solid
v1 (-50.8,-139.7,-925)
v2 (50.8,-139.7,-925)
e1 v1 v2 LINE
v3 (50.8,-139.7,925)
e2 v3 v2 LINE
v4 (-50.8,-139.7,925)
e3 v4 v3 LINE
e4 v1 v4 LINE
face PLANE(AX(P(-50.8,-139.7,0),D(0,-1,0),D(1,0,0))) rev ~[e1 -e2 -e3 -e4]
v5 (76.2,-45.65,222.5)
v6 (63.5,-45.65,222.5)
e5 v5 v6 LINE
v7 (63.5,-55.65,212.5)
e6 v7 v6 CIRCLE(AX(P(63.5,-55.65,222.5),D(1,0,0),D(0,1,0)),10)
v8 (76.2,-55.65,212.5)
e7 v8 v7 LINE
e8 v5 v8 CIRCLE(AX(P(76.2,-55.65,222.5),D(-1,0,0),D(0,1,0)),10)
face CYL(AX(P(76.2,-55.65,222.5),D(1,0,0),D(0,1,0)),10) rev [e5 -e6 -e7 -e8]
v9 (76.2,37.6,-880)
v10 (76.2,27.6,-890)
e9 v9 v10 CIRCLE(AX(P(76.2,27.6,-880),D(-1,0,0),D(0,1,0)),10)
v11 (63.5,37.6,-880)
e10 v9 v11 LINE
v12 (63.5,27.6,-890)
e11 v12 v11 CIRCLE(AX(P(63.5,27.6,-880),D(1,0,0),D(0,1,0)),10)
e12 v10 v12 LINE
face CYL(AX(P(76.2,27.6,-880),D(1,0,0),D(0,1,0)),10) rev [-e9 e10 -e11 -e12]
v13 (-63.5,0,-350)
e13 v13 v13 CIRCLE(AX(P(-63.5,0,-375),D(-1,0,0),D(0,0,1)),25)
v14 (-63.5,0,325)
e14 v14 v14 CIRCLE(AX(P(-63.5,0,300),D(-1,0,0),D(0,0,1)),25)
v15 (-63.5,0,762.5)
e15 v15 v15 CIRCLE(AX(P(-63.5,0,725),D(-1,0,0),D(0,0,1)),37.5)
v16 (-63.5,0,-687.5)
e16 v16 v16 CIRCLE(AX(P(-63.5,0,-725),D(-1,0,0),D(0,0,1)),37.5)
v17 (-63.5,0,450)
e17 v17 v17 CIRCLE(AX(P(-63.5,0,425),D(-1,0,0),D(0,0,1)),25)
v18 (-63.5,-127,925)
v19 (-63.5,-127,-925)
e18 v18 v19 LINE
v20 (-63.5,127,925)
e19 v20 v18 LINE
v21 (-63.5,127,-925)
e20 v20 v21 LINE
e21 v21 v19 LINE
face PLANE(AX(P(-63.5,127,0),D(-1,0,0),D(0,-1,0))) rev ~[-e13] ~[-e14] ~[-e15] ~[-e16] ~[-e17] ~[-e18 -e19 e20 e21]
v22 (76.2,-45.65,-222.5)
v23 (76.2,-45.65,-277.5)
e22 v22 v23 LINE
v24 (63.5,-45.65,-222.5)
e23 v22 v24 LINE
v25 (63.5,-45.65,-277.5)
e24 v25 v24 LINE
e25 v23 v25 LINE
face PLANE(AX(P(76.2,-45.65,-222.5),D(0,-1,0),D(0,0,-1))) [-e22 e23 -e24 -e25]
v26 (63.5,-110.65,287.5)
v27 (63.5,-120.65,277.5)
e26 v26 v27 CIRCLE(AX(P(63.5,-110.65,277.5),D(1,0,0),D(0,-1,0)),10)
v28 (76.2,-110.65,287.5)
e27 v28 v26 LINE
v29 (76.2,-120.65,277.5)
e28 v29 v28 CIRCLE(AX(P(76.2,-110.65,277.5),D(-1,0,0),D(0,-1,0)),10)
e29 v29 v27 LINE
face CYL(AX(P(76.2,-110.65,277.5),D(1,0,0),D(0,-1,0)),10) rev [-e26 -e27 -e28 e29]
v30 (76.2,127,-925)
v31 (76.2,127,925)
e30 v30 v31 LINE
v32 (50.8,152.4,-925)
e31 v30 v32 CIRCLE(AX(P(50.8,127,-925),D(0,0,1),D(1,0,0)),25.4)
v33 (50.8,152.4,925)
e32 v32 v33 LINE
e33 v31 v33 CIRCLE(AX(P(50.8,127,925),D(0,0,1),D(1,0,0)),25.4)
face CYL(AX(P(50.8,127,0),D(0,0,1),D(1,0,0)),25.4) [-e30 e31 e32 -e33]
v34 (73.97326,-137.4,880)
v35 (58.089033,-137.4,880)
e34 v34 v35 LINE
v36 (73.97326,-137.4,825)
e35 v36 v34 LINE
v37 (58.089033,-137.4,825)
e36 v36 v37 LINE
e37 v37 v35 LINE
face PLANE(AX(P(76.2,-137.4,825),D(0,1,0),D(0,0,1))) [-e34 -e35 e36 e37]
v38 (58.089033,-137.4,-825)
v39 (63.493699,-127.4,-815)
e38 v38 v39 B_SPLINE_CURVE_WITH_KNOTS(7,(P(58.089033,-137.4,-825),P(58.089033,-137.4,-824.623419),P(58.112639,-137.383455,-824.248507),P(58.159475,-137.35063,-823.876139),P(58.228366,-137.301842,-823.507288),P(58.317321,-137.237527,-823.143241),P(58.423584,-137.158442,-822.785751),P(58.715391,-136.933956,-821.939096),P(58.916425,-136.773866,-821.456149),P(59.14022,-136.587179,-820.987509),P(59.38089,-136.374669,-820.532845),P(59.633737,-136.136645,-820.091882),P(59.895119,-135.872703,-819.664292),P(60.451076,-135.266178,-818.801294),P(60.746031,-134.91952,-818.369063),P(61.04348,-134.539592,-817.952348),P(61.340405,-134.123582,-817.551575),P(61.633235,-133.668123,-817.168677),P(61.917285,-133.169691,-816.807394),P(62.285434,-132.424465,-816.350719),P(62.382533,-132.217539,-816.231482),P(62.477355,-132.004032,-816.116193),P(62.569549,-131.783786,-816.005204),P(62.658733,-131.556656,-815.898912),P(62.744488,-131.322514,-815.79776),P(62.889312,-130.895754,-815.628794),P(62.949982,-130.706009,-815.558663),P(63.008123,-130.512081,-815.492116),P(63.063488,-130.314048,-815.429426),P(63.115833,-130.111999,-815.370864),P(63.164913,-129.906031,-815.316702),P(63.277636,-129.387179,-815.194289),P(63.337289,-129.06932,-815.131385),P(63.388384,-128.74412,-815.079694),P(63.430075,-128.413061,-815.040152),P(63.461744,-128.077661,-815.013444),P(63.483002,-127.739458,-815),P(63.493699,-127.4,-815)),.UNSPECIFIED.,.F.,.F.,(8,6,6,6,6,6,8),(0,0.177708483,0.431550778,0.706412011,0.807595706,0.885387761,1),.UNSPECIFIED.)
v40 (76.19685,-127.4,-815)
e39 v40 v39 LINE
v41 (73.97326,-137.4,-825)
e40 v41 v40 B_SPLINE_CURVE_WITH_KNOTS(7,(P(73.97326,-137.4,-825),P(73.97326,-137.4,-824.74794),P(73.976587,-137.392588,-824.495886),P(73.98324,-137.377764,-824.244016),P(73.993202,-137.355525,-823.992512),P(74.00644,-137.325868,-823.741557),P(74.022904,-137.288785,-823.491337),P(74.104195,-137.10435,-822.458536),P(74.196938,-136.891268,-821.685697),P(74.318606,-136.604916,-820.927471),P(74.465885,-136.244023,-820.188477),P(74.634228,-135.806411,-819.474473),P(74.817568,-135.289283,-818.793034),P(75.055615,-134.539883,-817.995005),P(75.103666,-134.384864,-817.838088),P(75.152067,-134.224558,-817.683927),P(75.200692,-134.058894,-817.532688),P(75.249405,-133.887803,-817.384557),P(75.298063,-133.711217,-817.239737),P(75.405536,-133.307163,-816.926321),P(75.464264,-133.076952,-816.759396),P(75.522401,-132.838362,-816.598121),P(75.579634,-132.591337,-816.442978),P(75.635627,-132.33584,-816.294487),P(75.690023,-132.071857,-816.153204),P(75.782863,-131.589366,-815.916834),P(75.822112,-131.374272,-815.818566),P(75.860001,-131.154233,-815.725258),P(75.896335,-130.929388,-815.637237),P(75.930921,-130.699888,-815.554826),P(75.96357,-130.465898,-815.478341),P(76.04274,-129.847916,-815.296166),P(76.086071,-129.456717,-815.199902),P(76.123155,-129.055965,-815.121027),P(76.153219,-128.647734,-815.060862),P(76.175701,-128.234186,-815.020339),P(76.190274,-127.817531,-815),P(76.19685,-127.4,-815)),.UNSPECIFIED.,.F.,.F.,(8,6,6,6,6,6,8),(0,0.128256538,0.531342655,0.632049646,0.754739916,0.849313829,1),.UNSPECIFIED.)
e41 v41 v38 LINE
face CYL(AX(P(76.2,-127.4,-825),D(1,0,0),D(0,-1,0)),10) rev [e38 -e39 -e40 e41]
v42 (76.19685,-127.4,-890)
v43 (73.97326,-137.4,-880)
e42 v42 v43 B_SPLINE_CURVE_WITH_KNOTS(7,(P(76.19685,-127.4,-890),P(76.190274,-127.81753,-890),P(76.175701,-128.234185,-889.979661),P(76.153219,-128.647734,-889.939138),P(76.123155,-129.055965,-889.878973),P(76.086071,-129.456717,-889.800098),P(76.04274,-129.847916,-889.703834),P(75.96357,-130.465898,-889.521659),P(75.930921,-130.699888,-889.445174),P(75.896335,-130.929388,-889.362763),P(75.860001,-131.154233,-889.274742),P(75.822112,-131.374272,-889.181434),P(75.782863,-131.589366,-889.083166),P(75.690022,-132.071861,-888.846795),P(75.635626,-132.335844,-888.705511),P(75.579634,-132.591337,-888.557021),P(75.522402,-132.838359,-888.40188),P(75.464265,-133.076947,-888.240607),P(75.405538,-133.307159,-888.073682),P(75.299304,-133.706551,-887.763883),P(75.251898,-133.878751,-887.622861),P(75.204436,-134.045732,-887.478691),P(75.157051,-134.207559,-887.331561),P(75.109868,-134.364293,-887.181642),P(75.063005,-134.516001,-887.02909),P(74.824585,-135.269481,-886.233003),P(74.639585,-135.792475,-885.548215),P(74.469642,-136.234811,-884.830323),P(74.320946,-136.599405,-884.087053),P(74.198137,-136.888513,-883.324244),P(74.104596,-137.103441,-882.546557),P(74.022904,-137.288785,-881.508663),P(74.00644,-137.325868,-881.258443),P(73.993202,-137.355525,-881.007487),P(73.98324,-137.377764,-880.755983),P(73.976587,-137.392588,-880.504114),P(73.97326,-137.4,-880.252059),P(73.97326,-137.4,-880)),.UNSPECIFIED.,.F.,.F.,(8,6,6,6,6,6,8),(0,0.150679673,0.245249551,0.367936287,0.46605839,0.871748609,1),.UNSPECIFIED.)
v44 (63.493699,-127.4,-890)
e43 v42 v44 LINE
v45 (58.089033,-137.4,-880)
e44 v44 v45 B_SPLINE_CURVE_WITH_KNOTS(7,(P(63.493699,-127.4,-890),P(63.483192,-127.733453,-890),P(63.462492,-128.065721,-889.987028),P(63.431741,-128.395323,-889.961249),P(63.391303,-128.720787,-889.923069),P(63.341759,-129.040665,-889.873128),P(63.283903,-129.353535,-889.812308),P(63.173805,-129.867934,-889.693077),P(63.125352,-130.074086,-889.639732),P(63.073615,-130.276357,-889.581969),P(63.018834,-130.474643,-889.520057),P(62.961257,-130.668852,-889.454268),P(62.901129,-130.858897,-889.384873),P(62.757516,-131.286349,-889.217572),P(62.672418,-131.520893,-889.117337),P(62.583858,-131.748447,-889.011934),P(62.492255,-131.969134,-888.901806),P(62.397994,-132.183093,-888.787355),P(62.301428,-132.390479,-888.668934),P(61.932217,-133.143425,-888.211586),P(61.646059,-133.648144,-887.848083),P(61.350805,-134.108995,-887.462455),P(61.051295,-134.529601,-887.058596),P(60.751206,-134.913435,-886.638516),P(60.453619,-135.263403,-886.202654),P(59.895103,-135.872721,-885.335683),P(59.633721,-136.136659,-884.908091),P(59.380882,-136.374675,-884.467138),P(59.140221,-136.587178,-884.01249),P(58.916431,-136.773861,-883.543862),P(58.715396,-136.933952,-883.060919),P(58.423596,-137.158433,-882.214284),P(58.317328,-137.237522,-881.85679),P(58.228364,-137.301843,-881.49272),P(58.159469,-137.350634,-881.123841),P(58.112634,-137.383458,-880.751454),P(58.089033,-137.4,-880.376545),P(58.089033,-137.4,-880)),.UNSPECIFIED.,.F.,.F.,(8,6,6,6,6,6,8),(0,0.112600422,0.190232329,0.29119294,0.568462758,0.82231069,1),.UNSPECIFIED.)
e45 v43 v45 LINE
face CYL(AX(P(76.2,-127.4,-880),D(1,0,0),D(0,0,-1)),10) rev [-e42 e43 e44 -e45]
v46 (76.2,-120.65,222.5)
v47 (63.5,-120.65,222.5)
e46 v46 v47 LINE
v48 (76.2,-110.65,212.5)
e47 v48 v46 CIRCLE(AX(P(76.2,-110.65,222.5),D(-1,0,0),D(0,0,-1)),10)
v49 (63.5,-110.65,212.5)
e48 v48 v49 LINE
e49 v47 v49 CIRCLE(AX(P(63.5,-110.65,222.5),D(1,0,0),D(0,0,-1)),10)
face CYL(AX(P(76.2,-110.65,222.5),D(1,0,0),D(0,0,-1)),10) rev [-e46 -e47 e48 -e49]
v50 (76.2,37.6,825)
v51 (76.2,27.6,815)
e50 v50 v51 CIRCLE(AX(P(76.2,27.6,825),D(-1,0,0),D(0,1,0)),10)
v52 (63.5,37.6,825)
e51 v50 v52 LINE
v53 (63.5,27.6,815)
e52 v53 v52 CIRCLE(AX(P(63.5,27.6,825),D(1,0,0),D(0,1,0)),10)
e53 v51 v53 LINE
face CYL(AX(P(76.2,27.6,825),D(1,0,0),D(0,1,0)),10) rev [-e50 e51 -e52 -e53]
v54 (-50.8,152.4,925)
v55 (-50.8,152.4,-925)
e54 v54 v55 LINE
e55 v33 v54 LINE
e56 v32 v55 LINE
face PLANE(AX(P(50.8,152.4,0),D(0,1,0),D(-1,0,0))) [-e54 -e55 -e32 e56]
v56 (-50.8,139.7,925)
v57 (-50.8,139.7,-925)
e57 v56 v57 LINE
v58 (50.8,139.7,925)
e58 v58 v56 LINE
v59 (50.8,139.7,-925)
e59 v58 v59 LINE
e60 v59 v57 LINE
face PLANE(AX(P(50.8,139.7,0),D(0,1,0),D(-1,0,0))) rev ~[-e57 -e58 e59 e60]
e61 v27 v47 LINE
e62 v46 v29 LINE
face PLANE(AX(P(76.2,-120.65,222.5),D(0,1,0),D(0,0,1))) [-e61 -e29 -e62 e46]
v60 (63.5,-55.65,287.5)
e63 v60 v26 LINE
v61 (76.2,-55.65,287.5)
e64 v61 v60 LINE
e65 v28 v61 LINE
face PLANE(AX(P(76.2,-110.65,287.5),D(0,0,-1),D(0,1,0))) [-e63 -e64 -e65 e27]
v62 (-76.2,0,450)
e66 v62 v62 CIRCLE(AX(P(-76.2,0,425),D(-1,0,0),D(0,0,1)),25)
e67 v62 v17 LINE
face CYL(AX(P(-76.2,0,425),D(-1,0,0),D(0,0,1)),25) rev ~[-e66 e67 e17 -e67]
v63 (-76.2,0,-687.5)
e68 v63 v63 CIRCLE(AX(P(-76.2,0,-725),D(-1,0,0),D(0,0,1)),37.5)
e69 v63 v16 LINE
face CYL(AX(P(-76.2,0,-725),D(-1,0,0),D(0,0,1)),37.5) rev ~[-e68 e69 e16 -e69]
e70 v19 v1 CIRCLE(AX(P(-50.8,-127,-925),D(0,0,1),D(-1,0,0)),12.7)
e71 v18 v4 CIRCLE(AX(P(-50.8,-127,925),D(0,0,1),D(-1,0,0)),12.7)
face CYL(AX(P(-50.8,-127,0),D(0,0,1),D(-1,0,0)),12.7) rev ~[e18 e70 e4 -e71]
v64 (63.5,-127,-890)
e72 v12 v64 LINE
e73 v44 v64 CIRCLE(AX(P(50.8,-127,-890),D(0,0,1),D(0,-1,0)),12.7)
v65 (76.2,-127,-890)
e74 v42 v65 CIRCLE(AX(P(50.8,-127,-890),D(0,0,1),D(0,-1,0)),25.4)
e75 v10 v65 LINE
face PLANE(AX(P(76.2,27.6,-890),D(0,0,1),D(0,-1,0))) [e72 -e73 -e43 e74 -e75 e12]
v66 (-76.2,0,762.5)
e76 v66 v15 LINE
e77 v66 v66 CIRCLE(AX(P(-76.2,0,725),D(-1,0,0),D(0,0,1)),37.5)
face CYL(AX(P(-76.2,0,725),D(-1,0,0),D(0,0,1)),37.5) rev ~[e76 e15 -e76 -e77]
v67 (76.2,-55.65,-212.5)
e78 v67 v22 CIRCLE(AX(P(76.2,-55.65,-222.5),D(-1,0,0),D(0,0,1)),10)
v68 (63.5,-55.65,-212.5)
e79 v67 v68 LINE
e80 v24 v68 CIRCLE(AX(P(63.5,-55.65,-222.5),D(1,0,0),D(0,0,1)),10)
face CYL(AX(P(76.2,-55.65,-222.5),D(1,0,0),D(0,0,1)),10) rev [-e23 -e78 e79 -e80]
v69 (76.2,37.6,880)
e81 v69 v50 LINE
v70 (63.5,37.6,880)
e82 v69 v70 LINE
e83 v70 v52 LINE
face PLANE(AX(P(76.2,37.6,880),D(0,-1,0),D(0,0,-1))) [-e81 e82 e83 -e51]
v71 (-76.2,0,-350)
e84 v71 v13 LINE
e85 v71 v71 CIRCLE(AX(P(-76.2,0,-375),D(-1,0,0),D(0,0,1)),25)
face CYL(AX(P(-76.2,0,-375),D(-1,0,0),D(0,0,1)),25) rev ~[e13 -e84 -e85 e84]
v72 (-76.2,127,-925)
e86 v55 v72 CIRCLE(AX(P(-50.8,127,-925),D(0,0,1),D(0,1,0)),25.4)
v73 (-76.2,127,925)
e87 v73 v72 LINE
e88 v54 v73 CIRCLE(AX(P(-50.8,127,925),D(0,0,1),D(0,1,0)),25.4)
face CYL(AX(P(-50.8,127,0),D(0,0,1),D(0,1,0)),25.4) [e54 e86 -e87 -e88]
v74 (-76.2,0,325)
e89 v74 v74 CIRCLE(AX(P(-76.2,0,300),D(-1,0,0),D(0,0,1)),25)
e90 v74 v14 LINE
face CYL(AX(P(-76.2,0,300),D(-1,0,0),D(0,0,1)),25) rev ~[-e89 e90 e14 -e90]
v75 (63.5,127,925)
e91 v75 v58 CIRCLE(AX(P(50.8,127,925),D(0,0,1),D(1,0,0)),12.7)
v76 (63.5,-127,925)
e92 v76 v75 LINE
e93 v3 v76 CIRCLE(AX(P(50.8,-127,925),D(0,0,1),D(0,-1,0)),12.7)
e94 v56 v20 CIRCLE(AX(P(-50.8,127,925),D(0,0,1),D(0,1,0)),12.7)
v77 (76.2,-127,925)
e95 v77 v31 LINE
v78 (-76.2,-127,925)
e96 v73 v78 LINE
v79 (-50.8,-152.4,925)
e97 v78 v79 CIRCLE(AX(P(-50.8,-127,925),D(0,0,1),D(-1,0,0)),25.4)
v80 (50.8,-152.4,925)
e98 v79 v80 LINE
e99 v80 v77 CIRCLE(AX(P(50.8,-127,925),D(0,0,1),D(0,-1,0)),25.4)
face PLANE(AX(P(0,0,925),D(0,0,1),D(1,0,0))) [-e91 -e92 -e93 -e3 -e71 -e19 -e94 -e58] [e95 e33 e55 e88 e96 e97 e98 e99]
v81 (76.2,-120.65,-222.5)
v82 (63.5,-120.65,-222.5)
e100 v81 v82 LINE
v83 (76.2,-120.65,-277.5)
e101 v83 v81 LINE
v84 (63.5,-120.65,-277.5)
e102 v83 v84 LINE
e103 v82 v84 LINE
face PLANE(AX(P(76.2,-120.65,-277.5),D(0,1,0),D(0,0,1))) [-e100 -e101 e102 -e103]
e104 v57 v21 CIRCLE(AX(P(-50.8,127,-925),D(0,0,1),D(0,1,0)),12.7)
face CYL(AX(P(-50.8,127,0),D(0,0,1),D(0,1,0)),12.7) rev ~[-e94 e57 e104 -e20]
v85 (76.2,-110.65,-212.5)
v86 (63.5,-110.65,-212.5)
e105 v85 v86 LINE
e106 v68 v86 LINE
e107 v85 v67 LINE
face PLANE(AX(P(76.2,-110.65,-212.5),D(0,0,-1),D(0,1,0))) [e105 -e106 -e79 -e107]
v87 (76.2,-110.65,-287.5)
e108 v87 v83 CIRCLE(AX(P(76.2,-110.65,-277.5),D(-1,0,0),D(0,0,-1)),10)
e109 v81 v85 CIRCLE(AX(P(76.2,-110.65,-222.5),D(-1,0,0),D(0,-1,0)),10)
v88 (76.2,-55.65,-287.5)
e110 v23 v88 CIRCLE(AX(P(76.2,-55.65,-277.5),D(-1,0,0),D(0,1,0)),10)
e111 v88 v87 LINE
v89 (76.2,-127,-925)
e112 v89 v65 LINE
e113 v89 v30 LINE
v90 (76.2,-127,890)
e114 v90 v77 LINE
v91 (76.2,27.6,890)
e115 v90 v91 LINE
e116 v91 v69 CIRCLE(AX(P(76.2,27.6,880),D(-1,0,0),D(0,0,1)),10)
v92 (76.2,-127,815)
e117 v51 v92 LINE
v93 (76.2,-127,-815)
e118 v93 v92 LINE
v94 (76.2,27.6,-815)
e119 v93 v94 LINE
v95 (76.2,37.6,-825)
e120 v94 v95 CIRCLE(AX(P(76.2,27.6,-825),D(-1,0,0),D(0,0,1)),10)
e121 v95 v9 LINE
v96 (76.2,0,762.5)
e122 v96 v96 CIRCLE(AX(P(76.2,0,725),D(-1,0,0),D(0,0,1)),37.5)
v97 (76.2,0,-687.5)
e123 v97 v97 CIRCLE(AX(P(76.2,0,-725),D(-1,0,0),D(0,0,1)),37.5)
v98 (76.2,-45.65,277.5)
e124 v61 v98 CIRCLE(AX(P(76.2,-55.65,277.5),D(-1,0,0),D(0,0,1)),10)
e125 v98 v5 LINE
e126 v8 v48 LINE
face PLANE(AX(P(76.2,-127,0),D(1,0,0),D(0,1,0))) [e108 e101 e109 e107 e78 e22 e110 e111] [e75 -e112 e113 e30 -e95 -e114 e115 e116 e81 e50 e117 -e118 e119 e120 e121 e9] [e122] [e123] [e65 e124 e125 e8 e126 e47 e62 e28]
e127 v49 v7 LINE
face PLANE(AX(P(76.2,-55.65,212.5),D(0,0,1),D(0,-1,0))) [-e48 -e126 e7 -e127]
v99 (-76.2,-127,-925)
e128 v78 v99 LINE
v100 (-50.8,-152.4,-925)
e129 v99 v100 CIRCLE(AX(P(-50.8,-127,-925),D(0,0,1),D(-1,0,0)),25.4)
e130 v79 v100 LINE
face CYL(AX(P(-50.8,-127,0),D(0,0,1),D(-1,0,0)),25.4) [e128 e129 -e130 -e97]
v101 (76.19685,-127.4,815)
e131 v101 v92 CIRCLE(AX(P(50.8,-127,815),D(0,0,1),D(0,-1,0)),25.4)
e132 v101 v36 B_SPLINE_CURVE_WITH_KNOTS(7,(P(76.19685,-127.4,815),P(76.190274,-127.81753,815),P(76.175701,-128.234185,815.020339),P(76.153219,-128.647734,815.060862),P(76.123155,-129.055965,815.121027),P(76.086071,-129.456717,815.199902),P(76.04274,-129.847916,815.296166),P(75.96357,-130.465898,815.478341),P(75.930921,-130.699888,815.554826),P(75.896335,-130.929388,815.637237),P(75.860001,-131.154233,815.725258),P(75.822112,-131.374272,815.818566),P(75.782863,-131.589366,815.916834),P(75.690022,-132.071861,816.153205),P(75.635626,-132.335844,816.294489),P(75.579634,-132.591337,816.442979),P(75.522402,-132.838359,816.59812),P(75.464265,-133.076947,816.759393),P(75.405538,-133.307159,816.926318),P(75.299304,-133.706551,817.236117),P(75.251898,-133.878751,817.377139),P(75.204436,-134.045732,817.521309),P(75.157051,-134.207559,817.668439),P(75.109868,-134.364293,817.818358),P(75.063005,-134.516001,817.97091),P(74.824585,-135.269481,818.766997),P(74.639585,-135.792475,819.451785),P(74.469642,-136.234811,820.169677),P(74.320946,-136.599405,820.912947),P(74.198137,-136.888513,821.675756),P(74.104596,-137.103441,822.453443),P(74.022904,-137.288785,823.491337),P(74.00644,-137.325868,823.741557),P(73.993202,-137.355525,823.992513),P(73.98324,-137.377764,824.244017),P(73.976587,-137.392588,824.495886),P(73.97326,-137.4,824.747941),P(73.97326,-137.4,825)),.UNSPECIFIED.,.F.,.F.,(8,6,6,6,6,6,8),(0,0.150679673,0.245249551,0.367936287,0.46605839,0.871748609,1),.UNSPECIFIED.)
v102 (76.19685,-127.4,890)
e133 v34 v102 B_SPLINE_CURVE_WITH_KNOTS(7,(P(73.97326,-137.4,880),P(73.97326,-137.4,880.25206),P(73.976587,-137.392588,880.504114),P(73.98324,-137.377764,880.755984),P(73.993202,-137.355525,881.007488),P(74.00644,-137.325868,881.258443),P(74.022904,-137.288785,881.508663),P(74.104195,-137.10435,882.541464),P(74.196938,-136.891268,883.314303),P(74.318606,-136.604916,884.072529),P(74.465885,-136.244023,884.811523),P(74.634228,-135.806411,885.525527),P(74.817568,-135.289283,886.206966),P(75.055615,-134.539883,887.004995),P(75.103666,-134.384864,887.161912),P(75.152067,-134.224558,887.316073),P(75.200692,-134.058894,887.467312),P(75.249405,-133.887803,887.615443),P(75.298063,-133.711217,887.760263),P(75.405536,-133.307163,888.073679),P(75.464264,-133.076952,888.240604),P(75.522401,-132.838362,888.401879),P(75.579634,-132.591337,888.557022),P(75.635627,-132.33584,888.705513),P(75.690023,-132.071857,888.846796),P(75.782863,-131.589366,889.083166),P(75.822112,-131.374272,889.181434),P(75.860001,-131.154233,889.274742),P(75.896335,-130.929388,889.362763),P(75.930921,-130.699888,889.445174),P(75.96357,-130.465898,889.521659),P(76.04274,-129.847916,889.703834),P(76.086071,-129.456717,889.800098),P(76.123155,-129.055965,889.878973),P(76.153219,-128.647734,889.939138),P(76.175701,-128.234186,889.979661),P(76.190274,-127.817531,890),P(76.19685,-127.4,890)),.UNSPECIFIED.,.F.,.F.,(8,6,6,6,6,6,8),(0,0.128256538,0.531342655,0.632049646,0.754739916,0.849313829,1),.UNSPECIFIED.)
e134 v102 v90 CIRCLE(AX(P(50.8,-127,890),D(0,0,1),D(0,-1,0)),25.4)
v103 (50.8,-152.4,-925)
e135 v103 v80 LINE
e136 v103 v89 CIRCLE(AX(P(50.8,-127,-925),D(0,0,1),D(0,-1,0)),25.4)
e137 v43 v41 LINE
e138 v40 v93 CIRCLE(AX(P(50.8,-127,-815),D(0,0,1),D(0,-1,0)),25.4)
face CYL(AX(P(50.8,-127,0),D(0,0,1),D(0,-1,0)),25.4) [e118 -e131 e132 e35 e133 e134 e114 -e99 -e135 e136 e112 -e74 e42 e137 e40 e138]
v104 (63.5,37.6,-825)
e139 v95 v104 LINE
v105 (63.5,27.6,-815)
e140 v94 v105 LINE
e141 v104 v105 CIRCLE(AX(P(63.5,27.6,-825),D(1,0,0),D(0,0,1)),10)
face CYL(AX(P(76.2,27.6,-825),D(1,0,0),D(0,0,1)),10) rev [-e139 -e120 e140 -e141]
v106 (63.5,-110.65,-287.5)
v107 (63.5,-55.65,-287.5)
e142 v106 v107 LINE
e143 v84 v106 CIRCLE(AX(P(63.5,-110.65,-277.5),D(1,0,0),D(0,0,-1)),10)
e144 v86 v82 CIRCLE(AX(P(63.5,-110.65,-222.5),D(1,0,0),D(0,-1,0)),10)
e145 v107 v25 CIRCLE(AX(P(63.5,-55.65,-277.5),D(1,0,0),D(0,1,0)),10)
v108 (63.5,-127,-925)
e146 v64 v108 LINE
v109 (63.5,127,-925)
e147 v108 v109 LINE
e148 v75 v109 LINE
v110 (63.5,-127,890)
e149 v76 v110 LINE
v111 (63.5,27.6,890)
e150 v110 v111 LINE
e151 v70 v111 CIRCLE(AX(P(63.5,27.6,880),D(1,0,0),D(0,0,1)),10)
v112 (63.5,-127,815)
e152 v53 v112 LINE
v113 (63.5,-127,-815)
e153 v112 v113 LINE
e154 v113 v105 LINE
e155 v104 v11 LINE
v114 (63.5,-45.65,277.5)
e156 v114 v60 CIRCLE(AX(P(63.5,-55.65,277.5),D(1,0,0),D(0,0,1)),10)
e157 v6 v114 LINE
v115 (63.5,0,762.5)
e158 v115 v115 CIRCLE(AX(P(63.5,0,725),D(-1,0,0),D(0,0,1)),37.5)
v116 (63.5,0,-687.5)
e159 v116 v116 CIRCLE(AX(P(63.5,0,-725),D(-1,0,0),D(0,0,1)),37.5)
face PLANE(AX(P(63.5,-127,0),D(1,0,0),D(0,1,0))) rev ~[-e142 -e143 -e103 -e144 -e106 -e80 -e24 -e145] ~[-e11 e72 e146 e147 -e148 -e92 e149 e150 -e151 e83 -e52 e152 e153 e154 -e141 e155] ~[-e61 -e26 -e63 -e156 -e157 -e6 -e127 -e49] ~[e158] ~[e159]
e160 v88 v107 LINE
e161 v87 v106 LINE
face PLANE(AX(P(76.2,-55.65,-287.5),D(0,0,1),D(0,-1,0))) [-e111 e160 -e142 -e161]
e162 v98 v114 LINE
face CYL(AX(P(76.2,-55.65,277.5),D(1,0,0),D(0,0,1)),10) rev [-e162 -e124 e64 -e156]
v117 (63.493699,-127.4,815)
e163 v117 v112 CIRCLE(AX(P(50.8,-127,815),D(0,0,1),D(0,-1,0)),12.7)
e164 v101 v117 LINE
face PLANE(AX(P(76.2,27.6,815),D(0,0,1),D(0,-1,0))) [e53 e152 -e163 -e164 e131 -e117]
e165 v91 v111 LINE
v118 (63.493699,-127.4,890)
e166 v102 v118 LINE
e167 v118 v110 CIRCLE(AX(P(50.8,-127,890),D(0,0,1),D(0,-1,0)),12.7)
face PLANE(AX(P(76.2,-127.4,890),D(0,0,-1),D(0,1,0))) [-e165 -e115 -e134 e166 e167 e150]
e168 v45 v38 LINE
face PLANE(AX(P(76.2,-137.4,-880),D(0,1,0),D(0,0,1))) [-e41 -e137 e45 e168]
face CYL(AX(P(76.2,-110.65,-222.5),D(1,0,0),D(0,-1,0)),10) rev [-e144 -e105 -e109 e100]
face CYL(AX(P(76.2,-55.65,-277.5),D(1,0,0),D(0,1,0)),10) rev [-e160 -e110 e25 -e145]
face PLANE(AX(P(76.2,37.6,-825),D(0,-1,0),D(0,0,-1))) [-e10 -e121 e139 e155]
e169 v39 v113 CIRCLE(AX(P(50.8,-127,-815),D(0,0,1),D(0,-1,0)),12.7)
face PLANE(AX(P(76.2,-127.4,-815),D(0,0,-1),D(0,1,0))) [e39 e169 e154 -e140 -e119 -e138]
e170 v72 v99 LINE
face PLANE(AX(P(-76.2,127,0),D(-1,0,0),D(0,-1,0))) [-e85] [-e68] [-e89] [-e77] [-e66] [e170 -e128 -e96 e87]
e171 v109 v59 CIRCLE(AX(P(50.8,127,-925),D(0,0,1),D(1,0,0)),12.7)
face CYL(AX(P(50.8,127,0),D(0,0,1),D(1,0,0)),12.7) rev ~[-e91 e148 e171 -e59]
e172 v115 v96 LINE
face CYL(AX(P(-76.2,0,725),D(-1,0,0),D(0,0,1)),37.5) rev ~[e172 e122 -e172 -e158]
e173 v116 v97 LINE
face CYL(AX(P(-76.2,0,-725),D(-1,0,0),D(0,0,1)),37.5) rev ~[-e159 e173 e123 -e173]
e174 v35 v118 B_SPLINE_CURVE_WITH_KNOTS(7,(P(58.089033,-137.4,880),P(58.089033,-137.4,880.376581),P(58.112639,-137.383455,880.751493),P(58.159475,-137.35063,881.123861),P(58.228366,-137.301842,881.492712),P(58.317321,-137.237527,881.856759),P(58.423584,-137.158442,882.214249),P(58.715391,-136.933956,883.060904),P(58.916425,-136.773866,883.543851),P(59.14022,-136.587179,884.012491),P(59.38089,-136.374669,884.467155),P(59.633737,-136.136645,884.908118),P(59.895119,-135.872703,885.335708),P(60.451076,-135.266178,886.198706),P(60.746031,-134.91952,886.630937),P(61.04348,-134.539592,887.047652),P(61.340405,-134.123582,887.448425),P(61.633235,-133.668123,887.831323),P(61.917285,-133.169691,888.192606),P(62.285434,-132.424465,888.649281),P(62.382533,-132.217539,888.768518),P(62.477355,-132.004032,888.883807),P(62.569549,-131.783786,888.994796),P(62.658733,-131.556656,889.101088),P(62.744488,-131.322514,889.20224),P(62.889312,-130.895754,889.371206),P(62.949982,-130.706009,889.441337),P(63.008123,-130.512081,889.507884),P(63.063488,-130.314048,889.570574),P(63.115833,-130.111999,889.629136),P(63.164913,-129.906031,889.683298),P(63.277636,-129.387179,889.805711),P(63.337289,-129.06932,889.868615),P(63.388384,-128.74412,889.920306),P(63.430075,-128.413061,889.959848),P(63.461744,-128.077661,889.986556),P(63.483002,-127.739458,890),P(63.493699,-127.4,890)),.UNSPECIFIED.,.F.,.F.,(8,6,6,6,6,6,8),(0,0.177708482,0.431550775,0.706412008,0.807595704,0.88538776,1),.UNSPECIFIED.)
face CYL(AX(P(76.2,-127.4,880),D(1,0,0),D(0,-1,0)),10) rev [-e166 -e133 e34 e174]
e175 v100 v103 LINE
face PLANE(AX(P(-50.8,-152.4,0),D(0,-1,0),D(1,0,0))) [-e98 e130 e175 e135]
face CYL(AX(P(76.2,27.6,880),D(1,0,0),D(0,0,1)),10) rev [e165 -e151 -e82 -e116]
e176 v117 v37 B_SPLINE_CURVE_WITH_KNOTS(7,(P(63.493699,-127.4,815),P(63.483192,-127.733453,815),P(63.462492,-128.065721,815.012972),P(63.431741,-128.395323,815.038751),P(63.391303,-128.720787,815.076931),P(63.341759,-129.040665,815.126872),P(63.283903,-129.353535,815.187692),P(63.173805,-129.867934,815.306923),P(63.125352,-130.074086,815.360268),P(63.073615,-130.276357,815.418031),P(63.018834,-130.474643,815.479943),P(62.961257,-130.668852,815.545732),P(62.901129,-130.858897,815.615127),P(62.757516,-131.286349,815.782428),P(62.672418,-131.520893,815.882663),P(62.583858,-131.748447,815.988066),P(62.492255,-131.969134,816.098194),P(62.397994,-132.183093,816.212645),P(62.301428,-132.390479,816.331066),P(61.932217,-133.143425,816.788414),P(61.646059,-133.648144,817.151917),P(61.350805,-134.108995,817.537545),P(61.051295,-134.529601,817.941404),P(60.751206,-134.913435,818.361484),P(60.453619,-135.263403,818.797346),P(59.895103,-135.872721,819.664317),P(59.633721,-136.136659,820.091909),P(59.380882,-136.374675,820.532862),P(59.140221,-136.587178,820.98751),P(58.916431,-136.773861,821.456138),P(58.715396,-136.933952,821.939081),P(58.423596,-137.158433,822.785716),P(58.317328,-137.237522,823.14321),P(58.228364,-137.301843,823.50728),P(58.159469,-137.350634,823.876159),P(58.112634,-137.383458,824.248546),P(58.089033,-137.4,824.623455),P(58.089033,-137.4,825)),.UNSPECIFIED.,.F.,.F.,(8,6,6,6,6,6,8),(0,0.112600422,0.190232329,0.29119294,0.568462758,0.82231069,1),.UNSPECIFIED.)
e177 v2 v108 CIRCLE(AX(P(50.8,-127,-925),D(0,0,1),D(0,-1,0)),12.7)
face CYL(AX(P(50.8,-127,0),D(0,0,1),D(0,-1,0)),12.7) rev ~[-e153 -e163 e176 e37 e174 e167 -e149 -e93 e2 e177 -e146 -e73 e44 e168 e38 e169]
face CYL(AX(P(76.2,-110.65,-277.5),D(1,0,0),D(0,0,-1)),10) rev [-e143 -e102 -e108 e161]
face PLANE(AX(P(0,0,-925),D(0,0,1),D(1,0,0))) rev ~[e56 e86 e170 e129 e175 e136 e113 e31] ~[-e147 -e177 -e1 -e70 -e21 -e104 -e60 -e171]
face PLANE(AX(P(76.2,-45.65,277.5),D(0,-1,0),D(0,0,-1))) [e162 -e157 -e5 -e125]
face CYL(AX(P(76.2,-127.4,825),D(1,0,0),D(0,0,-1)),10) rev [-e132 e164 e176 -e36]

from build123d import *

# Parameters (mm, degrees)
BOSS_EXTRUDE1_DEPTH                       = 925
CUT_EXTRUDE1_DEPTH                        = 30
FOR_MACH_SHOP_CONFIRM_W_PROGRAMMING_REACH = 951.777
SKETCH5_R                                 = 37.5
CUT_EXTRUDE3_DEPTH                        = 950.777089767
CUT_EXTRUDE4_REACH                        = 951.777
SKETCH6_R                                 = 25


with BuildPart() as part:
    # Sketch1 → Boss-Extrude1 (new, symmetric)
    with BuildSketch(Plane.XY):
        with BuildLine():
            Line((-50.8, -152.4), (50.8, -152.4))
            ThreePointArc((50.8, -152.4), (68.760512242, -144.960512242), (76.2, -127))
            Line((76.2, -127), (76.2, 127))
            ThreePointArc((76.2, 127), (68.760512242, 144.960512242), (50.8, 152.4))
            Line((50.8, 152.4), (-50.8, 152.4))
            ThreePointArc((-50.8, 152.4), (-68.760512242, 144.960512242), (-76.2, 127))
            Line((-76.2, 127), (-76.2, -127))
            ThreePointArc((-76.2, -127), (-68.760512242, -144.960512242), (-50.8, -152.4))
        make_face()
        with BuildLine():
            Line((-50.8, -139.7), (50.8, -139.7))
            ThreePointArc((50.8, -139.7), (59.780256121, -135.980256121), (63.5, -127))
            Line((63.5, -127), (63.5, 127))
            ThreePointArc((63.5, 127), (59.780256121, 135.980256121), (50.8, 139.7))
            Line((50.8, 139.7), (-50.8, 139.7))
            ThreePointArc((-50.8, 139.7), (-59.780256121, 135.980256121), (-63.5, 127))
            Line((-63.5, 127), (-63.5, -127))
            ThreePointArc((-63.5, -127), (-59.780256121, -135.980256121), (-50.8, -139.7))
        make_face(mode=Mode.SUBTRACT)
    extrude(amount=BOSS_EXTRUDE1_DEPTH, both=True)

    # Sketch2 → Cut-Extrude1 (cut)
    with BuildSketch(Plane(origin=(76.2, 0, 0), x_dir=(0, 0, -1), z_dir=(1, 0, 0))):
        with BuildLine():
            Line((-880, 37.6), (-825, 37.6))
            ThreePointArc((-825, 37.6), (-817.928932188, 34.671067812), (-815, 27.6))
            Line((-815, 27.6), (-815, -127.4))
            ThreePointArc((-815, -127.4), (-817.928932188, -134.471067812), (-825, -137.4))
            Line((-825, -137.4), (-880, -137.4))
            ThreePointArc((-880, -137.4), (-887.071067812, -134.471067812), (-890, -127.4))
            Line((-890, -127.4), (-890, 27.6))
            ThreePointArc((-890, 27.6), (-887.071067812, 34.671067812), (-880, 37.6))
        make_face()
        with BuildLine():
            Line((825, 37.6), (880, 37.6))
            ThreePointArc((880, 37.6), (887.071067812, 34.671067812), (890, 27.6))
            Line((890, 27.6), (890, -127.4))
            ThreePointArc((890, -127.4), (887.071067812, -134.471067812), (880, -137.4))
            Line((880, -137.4), (825, -137.4))
            ThreePointArc((825, -137.4), (817.928932188, -134.471067812), (815, -127.4))
            Line((815, -127.4), (815, 27.6))
            ThreePointArc((815, 27.6), (817.928932188, 34.671067812), (825, 37.6))
        make_face()
    extrude(amount=-CUT_EXTRUDE1_DEPTH, mode=Mode.SUBTRACT)

    # Sketch3 → for mach shop confirm w/ programming (cut, up to next)
    with BuildSketch(Plane(origin=(76.2, 0, 0), x_dir=(0, 0, -1), z_dir=(1, 0, 0)), mode=Mode.PRIVATE) as for_mach_shop_confirm_w_programming_sk1:
        with BuildLine():
            Line((-277.5, -45.65), (-222.5, -45.65))
            ThreePointArc((-222.5, -45.65), (-215.428932188, -48.578932188), (-212.5, -55.65))
            Line((-212.5, -55.65), (-212.5, -110.65))
            ThreePointArc((-212.5, -110.65), (-215.428932188, -117.721067812), (-222.5, -120.65))
            Line((-222.5, -120.65), (-277.5, -120.65))
            ThreePointArc((-277.5, -120.65), (-284.571067812, -117.721067812), (-287.5, -110.65))
            Line((-287.5, -110.65), (-287.5, -55.65))
            ThreePointArc((-287.5, -55.65), (-284.571067812, -48.578932188), (-277.5, -45.65))
        make_face()
    for_mach_shop_confirm_w_programming_tool1 = extrude(for_mach_shop_confirm_w_programming_sk1.sketch, amount=-FOR_MACH_SHOP_CONFIRM_W_PROGRAMMING_REACH, mode=Mode.PRIVATE) & part.part
    # Sketch3 → for mach shop confirm w/ programming (cut, up to next)
    with BuildSketch(Plane(origin=(76.2, 0, 0), x_dir=(0, 0, -1), z_dir=(1, 0, 0)), mode=Mode.PRIVATE) as for_mach_shop_confirm_w_programming_sk2:
        with BuildLine():
            Line((222.5, -45.65), (277.5, -45.65))
            ThreePointArc((277.5, -45.65), (284.571067812, -48.578932188), (287.5, -55.65))
            Line((287.5, -55.65), (287.5, -110.65))
            ThreePointArc((287.5, -110.65), (284.571067812, -117.721067812), (277.5, -120.65))
            Line((277.5, -120.65), (222.5, -120.65))
            ThreePointArc((222.5, -120.65), (215.428932188, -117.721067812), (212.5, -110.65))
            Line((212.5, -110.65), (212.5, -55.65))
            ThreePointArc((212.5, -55.65), (215.428932188, -48.578932188), (222.5, -45.65))
        make_face()
    for_mach_shop_confirm_w_programming_tool2 = extrude(for_mach_shop_confirm_w_programming_sk2.sketch, amount=-FOR_MACH_SHOP_CONFIRM_W_PROGRAMMING_REACH, mode=Mode.PRIVATE) & part.part
    add(for_mach_shop_confirm_w_programming_tool1.solids().sort_by_distance((76.2, -83.15, 250))[0], mode=Mode.SUBTRACT)
    add(for_mach_shop_confirm_w_programming_tool2.solids().sort_by_distance((76.2, -83.15, -250))[0], mode=Mode.SUBTRACT)

    # Sketch5 → Cut-Extrude3 (cut, through all)
    with BuildSketch(Plane.ZY.offset(76.2)):
        with Locations((725, 0)):
            Circle(SKETCH5_R)
        with Locations((-725, 0)):
            Circle(SKETCH5_R)
    extrude(amount=-CUT_EXTRUDE3_DEPTH, mode=Mode.SUBTRACT)

    # Sketch6 → Cut-Extrude4 (cut, up to next)
    with BuildSketch(Plane.ZY.offset(76.2), mode=Mode.PRIVATE) as cut_extrude4_sk1:
        with Locations((-375, 0)):
            Circle(SKETCH6_R)
    cut_extrude4_tool1 = extrude(cut_extrude4_sk1.sketch, amount=-CUT_EXTRUDE4_REACH, mode=Mode.PRIVATE) & part.part
    # Sketch6 → Cut-Extrude4 (cut, up to next)
    with BuildSketch(Plane.ZY.offset(76.2), mode=Mode.PRIVATE) as cut_extrude4_sk2:
        with Locations((300, 0)):
            Circle(SKETCH6_R)
    cut_extrude4_tool2 = extrude(cut_extrude4_sk2.sketch, amount=-CUT_EXTRUDE4_REACH, mode=Mode.PRIVATE) & part.part
    # Sketch6 → Cut-Extrude4 (cut, up to next)
    with BuildSketch(Plane.ZY.offset(76.2), mode=Mode.PRIVATE) as cut_extrude4_sk3:
        with Locations((425, 0)):
            Circle(SKETCH6_R)
    cut_extrude4_tool3 = extrude(cut_extrude4_sk3.sketch, amount=-CUT_EXTRUDE4_REACH, mode=Mode.PRIVATE) & part.part
    add(cut_extrude4_tool1.solids().sort_by_distance((-76.2, 0, -375))[0], mode=Mode.SUBTRACT)
    add(cut_extrude4_tool2.solids().sort_by_distance((-76.2, 0, 300))[0], mode=Mode.SUBTRACT)
    add(cut_extrude4_tool3.solids().sort_by_distance((-76.2, 0, 425))[0], mode=Mode.SUBTRACT)


solid = part.part
